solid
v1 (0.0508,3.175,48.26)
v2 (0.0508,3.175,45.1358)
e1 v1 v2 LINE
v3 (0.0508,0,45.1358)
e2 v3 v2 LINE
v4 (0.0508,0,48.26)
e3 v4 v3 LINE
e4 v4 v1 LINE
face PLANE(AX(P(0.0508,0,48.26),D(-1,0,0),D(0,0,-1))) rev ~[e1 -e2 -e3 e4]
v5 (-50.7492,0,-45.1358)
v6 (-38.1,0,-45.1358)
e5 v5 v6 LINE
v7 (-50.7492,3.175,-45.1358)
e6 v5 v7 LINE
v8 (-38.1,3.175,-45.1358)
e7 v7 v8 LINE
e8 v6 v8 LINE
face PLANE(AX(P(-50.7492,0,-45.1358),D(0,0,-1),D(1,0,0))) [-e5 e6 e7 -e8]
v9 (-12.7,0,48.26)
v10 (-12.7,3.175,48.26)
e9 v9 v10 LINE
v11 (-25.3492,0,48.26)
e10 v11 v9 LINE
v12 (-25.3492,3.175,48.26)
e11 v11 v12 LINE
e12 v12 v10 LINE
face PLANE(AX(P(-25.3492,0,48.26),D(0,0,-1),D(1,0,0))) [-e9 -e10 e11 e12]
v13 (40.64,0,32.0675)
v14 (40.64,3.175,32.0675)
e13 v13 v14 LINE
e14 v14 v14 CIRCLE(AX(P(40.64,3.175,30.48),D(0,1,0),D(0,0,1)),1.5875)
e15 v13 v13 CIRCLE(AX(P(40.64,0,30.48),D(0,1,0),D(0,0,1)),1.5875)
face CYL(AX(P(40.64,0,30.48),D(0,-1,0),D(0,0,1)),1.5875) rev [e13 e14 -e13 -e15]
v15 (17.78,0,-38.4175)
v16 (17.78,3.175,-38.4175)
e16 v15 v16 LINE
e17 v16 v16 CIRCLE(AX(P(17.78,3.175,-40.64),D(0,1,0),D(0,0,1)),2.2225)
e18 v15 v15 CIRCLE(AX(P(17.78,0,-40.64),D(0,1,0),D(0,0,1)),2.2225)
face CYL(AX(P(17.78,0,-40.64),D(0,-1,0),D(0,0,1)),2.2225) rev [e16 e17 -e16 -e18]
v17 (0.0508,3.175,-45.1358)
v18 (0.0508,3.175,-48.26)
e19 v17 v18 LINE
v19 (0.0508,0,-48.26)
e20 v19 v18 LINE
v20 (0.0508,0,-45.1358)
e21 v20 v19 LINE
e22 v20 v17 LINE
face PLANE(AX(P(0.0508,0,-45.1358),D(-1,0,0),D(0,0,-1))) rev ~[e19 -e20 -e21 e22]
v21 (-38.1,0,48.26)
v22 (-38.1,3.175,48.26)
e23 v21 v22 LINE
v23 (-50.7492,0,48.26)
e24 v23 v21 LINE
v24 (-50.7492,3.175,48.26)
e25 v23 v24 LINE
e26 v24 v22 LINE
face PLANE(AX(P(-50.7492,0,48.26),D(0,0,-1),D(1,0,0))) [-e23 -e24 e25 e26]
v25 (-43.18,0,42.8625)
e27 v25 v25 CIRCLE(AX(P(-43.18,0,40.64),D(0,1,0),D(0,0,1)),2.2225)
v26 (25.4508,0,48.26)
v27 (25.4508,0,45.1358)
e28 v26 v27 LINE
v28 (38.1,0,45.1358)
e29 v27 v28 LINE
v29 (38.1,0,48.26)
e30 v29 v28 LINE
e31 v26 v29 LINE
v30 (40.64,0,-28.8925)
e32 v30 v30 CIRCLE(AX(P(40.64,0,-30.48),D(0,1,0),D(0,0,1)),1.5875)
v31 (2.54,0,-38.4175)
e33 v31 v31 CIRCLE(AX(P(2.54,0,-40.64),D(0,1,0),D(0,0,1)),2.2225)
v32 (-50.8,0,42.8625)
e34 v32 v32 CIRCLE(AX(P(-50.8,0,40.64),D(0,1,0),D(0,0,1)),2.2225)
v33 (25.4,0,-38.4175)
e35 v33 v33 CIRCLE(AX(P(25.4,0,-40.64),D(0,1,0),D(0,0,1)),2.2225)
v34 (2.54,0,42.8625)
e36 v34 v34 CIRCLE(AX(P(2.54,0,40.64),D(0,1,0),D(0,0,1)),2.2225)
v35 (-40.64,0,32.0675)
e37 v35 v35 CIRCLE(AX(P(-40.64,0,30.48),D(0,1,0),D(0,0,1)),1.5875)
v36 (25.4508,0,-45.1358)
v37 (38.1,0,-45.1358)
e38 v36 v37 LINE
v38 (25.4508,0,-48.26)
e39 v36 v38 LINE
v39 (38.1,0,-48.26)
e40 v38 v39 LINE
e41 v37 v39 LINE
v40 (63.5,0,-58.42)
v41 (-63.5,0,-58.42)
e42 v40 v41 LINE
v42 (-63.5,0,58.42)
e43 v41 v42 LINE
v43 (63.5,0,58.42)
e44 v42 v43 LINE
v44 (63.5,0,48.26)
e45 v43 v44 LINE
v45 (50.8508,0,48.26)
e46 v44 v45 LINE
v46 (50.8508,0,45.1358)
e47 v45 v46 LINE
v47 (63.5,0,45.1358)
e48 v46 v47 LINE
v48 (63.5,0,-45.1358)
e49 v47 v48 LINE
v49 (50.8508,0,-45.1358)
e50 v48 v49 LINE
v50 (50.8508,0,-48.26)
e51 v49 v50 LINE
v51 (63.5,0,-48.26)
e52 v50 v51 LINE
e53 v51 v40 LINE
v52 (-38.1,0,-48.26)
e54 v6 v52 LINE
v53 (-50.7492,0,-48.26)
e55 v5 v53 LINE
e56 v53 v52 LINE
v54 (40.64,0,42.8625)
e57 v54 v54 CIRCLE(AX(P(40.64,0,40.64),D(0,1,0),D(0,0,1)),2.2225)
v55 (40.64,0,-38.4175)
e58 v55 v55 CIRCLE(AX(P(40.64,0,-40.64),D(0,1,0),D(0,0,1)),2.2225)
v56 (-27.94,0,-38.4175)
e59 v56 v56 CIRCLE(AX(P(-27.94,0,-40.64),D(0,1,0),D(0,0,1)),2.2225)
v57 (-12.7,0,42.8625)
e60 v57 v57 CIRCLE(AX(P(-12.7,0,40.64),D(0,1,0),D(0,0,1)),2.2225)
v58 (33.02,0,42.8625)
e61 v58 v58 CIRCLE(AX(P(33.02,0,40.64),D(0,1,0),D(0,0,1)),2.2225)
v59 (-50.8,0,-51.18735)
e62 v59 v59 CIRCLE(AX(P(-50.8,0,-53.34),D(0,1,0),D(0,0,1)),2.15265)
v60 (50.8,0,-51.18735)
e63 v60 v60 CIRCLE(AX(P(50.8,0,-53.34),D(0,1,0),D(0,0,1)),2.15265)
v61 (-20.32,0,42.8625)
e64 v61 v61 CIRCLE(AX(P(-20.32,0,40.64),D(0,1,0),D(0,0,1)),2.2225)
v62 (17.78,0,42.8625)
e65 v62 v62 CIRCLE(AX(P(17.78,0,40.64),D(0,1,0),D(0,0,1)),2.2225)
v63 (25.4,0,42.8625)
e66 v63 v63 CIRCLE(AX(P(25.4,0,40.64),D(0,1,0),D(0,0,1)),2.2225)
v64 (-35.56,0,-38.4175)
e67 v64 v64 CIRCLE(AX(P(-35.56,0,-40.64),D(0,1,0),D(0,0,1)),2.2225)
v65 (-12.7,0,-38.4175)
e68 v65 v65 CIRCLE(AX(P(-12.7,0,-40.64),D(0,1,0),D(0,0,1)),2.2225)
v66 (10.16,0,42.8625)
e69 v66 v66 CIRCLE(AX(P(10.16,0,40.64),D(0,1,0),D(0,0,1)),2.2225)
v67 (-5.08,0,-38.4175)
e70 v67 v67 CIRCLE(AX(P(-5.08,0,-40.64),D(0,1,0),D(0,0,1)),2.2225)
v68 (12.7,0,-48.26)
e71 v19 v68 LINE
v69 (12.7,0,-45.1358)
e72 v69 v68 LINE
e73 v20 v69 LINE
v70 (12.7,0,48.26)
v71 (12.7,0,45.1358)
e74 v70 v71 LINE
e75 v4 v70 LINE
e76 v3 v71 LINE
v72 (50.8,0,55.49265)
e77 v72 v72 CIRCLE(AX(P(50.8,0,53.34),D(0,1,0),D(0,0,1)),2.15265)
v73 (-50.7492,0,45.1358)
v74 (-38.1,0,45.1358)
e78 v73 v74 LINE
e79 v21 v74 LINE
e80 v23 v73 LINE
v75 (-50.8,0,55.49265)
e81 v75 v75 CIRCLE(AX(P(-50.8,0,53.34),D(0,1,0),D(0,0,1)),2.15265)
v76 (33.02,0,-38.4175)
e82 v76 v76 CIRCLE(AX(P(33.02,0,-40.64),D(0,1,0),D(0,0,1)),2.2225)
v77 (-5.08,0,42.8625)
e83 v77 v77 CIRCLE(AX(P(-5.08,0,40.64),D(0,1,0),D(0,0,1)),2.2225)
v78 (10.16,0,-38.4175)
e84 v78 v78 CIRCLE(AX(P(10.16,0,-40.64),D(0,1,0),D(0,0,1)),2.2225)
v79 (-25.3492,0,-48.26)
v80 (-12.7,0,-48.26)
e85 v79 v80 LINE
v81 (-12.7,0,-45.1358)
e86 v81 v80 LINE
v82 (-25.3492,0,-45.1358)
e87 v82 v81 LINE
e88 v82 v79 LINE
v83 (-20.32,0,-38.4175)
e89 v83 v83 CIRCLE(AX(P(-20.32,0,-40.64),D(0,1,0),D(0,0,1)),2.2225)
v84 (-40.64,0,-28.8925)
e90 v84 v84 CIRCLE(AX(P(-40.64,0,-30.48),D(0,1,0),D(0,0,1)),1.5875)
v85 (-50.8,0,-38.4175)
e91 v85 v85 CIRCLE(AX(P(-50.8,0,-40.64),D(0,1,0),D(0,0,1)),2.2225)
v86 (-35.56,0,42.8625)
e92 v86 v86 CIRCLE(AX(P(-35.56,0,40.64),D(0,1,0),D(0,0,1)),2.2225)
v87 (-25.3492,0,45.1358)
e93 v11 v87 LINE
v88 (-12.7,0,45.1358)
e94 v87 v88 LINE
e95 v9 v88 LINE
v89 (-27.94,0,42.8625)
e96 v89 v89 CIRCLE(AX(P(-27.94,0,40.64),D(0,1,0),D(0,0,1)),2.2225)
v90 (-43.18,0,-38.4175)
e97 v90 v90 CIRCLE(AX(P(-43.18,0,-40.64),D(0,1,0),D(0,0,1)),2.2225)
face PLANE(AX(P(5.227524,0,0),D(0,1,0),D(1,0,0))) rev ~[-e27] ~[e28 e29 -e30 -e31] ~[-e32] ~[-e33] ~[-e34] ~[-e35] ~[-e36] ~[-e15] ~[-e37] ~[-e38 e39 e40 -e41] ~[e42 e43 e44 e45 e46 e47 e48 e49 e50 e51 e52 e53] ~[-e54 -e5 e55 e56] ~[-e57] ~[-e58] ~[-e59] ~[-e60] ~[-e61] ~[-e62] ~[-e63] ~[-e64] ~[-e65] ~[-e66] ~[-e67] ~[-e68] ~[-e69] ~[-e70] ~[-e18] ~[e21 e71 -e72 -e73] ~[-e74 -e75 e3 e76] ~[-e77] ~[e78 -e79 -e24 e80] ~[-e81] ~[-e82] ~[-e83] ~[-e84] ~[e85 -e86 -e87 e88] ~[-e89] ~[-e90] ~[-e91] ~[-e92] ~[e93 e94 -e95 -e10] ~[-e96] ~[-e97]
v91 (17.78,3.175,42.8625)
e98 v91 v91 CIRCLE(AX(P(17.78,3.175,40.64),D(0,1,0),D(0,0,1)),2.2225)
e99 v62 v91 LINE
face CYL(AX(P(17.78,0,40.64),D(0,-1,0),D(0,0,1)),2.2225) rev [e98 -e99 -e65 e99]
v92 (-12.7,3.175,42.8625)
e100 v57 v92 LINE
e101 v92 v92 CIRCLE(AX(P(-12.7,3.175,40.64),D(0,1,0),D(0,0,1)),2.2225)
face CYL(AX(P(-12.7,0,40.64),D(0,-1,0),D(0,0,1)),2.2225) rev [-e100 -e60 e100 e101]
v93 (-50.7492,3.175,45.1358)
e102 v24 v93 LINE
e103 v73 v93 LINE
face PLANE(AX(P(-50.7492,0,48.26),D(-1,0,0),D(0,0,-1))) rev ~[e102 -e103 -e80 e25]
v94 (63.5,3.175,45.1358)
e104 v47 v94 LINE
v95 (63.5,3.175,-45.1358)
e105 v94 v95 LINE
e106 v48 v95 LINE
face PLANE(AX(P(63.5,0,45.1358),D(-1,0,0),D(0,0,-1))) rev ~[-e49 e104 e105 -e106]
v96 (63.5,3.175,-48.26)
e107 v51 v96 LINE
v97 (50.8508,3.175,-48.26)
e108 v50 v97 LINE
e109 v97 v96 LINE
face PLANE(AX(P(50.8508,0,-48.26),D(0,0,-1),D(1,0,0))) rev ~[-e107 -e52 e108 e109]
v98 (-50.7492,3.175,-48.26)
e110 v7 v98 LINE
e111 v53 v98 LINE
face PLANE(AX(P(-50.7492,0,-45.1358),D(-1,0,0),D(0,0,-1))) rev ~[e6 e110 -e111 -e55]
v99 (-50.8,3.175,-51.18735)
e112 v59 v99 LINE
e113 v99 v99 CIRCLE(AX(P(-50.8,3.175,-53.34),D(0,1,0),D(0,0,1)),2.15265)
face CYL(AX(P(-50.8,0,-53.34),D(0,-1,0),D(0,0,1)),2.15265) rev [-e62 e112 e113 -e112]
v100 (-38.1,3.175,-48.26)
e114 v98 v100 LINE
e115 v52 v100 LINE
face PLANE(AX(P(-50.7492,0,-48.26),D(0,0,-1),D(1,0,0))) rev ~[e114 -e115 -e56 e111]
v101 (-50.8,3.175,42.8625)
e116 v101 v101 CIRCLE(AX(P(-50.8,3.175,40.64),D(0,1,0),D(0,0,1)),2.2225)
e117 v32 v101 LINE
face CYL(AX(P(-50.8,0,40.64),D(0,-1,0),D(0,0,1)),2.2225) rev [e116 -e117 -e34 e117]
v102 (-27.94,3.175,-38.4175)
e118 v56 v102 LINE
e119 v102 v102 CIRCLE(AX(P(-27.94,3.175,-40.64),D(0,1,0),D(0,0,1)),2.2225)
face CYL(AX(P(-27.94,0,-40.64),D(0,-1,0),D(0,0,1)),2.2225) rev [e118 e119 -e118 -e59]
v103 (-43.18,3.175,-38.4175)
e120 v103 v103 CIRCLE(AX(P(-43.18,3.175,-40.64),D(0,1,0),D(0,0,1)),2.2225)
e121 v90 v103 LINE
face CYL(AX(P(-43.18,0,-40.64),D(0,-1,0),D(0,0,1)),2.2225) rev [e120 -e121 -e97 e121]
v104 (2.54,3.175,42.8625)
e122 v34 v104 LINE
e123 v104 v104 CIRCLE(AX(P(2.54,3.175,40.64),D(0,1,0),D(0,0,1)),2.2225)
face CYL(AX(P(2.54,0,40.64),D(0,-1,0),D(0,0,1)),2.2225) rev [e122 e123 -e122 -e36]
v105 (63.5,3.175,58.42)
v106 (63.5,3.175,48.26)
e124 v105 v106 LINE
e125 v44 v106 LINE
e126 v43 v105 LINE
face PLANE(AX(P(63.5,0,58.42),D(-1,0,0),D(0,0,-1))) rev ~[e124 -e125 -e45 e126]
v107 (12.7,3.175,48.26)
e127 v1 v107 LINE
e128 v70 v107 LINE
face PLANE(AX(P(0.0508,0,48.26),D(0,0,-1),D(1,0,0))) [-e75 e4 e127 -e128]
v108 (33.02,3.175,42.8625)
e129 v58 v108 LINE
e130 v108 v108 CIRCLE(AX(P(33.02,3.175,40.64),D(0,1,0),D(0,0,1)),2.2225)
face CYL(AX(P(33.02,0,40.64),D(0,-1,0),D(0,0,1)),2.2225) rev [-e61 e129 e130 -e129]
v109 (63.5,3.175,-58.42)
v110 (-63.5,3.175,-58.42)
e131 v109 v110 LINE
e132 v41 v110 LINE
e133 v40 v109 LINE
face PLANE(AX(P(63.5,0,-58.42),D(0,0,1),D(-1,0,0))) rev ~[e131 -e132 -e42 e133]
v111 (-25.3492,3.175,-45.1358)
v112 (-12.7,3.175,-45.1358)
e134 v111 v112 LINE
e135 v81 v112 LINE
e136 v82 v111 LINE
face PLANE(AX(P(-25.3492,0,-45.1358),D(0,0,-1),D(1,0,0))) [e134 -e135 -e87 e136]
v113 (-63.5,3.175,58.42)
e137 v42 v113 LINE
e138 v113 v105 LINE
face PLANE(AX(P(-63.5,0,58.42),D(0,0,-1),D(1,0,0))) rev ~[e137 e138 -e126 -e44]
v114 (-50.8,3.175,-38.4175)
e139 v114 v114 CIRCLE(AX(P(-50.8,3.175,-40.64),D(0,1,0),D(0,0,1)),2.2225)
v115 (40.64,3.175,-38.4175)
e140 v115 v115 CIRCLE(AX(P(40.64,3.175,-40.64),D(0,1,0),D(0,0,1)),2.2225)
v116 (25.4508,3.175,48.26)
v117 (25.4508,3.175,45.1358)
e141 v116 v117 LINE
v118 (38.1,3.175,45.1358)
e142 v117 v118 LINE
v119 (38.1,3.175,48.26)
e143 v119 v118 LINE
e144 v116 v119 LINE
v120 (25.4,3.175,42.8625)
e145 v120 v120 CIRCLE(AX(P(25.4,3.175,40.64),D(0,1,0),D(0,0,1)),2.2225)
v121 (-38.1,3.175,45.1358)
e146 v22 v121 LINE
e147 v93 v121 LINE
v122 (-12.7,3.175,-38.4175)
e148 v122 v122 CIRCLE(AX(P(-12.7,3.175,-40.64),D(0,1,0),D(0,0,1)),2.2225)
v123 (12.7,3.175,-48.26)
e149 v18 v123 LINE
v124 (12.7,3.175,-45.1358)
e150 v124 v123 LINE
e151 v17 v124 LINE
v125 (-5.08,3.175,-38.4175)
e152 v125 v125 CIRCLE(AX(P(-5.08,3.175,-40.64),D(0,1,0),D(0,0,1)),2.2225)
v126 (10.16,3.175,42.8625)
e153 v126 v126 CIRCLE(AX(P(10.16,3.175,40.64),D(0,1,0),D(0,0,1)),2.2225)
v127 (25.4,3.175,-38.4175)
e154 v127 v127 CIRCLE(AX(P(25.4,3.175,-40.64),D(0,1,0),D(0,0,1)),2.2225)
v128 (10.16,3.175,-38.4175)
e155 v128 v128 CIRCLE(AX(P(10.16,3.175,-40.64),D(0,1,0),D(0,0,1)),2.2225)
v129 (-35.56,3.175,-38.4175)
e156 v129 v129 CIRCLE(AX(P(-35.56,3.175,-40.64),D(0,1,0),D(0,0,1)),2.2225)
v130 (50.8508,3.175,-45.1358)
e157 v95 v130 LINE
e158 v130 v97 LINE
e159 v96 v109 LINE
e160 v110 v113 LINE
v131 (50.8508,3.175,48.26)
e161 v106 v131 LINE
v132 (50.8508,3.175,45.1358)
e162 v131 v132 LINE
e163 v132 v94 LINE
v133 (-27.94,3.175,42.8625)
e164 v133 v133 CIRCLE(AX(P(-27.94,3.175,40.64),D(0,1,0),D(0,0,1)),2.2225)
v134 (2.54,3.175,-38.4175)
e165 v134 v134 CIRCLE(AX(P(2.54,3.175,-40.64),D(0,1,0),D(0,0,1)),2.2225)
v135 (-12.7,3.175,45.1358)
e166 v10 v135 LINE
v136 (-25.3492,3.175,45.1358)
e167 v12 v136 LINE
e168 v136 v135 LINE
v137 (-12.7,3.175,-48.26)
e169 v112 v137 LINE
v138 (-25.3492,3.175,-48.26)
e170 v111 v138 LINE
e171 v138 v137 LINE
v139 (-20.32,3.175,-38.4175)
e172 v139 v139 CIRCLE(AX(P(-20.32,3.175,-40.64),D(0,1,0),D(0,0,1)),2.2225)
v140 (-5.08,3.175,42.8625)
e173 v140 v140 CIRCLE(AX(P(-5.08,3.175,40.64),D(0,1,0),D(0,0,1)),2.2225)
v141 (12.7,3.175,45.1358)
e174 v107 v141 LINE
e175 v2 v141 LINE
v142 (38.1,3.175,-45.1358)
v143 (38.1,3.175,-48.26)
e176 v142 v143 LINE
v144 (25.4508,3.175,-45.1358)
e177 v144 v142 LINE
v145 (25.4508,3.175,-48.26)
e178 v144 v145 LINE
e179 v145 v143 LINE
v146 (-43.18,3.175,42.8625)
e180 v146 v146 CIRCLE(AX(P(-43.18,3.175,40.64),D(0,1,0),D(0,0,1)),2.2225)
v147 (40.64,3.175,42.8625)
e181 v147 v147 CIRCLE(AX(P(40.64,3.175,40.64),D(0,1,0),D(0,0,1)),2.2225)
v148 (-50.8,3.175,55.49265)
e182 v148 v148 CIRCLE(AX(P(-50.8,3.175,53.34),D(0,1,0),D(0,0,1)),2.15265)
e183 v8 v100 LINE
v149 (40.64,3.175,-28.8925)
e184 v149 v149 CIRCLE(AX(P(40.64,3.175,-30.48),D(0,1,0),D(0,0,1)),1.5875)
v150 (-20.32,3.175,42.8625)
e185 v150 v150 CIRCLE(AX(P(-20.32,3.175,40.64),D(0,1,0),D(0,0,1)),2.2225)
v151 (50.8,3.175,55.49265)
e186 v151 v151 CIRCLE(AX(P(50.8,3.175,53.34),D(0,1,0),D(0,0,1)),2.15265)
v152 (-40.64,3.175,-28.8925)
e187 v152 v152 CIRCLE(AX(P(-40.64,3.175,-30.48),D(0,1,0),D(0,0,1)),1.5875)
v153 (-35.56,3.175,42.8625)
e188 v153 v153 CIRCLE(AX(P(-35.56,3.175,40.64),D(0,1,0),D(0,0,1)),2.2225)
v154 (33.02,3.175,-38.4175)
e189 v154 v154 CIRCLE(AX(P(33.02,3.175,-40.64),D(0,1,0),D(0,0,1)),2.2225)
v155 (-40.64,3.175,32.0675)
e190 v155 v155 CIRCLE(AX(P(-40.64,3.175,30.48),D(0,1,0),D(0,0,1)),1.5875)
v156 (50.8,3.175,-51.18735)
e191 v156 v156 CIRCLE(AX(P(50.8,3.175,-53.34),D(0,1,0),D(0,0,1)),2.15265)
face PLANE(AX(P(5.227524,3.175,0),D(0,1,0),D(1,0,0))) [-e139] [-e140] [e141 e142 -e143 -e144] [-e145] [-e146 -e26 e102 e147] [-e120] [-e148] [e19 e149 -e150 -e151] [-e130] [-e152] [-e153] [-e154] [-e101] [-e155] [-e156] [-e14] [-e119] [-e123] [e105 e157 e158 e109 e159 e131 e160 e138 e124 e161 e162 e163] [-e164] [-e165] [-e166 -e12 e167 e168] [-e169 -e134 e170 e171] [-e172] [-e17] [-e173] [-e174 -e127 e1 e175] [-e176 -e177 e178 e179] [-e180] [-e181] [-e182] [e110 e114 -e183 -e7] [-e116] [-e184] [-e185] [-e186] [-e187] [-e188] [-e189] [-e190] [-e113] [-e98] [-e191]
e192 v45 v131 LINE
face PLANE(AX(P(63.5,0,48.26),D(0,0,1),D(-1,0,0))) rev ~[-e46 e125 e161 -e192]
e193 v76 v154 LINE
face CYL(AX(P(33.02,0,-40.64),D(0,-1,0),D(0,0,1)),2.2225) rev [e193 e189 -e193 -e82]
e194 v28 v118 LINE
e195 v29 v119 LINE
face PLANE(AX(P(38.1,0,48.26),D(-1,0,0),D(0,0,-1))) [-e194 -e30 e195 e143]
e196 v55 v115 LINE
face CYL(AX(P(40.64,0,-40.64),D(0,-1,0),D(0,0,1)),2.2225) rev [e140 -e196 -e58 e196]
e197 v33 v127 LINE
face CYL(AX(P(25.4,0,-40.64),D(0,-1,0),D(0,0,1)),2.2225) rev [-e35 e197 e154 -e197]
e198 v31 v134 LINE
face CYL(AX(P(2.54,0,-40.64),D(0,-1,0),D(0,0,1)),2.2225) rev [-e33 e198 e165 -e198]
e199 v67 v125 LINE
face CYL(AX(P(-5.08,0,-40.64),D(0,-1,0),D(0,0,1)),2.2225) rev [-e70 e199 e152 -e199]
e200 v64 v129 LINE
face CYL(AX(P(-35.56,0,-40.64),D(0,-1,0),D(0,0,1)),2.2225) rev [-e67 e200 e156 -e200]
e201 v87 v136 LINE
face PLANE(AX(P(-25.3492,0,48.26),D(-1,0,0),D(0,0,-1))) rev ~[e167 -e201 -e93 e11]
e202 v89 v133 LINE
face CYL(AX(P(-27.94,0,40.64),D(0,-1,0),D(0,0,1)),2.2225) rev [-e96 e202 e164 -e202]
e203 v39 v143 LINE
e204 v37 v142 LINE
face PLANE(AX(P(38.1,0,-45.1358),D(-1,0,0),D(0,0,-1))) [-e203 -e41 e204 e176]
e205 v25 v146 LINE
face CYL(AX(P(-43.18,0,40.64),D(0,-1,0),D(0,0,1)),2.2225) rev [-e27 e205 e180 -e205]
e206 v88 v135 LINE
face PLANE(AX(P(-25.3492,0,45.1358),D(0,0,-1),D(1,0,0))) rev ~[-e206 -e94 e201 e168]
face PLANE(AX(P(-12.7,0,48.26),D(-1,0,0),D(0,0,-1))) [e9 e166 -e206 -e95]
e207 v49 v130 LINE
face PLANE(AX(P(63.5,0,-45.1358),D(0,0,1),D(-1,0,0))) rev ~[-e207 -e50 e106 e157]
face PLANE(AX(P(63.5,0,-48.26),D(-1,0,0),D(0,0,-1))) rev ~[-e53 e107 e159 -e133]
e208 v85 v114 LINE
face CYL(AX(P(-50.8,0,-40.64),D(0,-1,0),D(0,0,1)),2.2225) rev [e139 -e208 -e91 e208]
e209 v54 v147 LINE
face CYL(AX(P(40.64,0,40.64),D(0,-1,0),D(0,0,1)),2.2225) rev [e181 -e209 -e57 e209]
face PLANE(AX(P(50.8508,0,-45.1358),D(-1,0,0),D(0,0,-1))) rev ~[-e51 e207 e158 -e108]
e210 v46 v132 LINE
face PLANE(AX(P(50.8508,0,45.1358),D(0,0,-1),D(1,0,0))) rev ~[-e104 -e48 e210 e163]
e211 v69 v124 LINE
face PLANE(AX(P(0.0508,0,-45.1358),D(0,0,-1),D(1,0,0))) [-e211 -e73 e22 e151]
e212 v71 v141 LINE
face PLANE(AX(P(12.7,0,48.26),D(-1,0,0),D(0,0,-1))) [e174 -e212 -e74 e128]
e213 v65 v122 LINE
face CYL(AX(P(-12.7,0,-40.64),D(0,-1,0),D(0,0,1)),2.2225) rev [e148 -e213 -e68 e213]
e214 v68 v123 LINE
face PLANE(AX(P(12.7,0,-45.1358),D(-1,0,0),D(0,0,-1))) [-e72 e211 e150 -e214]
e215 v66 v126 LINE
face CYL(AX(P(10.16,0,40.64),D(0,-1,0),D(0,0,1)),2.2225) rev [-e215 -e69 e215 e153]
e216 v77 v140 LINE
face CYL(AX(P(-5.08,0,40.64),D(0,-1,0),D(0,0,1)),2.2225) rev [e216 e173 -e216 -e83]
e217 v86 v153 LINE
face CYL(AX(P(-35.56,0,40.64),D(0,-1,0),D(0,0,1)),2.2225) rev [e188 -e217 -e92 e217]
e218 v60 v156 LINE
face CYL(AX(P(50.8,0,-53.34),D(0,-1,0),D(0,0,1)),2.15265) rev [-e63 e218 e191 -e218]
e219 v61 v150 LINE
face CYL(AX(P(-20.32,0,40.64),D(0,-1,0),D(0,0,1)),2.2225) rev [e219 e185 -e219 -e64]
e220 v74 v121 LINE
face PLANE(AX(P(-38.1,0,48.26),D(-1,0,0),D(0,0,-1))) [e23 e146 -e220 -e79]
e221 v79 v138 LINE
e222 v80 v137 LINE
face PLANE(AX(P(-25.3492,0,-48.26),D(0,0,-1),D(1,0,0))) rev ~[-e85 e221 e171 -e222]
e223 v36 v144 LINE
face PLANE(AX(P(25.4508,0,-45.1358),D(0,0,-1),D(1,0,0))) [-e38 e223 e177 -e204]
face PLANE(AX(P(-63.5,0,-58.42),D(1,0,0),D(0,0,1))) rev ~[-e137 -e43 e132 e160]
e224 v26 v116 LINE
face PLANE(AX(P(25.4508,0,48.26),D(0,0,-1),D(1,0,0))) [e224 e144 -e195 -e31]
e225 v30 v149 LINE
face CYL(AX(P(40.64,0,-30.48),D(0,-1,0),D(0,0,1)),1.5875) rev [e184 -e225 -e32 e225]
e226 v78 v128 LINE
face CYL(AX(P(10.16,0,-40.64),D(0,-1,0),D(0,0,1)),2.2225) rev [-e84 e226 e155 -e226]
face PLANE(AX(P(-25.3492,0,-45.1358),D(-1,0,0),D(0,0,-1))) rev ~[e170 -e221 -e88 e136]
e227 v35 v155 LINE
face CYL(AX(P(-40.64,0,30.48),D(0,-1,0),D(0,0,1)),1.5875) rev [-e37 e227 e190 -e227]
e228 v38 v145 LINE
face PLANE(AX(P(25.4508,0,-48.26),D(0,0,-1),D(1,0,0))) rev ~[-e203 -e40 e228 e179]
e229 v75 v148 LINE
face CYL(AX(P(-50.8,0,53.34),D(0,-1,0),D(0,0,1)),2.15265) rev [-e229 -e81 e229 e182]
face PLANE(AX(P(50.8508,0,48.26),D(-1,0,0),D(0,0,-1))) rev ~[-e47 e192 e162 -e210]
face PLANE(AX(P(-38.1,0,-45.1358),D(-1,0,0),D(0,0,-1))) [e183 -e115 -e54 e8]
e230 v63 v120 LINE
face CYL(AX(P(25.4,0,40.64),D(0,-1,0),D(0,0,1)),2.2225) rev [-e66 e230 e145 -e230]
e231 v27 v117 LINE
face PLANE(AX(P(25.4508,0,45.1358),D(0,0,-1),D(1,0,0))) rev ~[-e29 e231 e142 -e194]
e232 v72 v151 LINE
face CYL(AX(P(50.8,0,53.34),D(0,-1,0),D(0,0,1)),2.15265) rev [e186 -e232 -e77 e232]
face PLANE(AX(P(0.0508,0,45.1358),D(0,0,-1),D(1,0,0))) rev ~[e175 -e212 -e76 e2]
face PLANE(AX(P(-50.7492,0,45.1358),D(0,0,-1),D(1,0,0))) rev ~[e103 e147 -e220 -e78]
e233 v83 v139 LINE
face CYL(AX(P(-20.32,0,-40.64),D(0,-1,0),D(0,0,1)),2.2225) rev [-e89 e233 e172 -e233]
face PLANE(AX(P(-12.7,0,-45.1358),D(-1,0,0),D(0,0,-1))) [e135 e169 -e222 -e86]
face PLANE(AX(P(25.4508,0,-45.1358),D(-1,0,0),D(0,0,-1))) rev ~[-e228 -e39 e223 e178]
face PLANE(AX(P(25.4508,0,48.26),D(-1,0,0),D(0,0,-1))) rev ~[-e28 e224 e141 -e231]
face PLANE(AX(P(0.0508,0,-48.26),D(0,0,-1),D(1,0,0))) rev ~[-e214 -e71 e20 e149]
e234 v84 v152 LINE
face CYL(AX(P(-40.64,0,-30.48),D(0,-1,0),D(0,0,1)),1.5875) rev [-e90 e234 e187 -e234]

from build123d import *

# Parameters (mm, degrees)
SKETCH1_R           = 2.15265
SKETCH1_W           = 12.6492
SKETCH1_H           = 3.1242
SKETCH1_R_2         = 2.2225
SKETCH1_R_3         = 1.5875
BOSS_EXTRUDE1_DEPTH = 3.175


with BuildPart() as part:
    # Sketch1 → Boss-Extrude1 (new body)
    with BuildSketch(Plane(origin=(0, 0, 0), x_dir=(1, 0, 0), z_dir=(0, 1, 0))):
        Polygon((63.5, 45.1358), (50.8508, 45.1358), (50.8508, 48.26), (63.5, 48.26), (63.5, 58.42), (-63.5, 58.42), (-63.5, -58.42), (63.5, -58.42), (63.5, -48.26), (50.8508, -48.26), (50.8508, -45.1358), (63.5, -45.1358), align=None)
        with Locations(Location((-50.8, -53.34, 0), (0, 0, 270))):
            Circle(SKETCH1_R, mode=Mode.SUBTRACT)
        with Locations((-44.4246, -46.6979)):
            Rectangle(SKETCH1_W, SKETCH1_H, mode=Mode.SUBTRACT)
        with Locations(Location((-50.8, -40.64, 0), (0, 0, 270))):
            Circle(SKETCH1_R_2, mode=Mode.SUBTRACT)
        with Locations(Location((-43.18, -40.64, 0), (0, 0, 270))):
            Circle(SKETCH1_R_2, mode=Mode.SUBTRACT)
        with Locations(Location((-40.64, -30.48, 0), (0, 0, 270))):
            Circle(SKETCH1_R_3, mode=Mode.SUBTRACT)
        with Locations(Location((-35.56, -40.64, 0), (0, 0, 270))):
            Circle(SKETCH1_R_2, mode=Mode.SUBTRACT)
        with Locations(Location((-27.94, -40.64, 0), (0, 0, 270))):
            Circle(SKETCH1_R_2, mode=Mode.SUBTRACT)
        with Locations((-19.0246, -46.6979)):
            Rectangle(SKETCH1_W, SKETCH1_H, mode=Mode.SUBTRACT)
        with Locations(Location((-20.32, -40.64, 0), (0, 0, 270))):
            Circle(SKETCH1_R_2, mode=Mode.SUBTRACT)
        with Locations(Location((-12.7, -40.64, 0), (0, 0, 270))):
            Circle(SKETCH1_R_2, mode=Mode.SUBTRACT)
        with Locations(Location((-5.08, -40.64, 0), (0, 0, 270))):
            Circle(SKETCH1_R_2, mode=Mode.SUBTRACT)
        with Locations((6.3754, -46.6979)):
            Rectangle(SKETCH1_W, SKETCH1_H, mode=Mode.SUBTRACT)
        with Locations(Location((2.54, -40.64, 0), (0, 0, 270))):
            Circle(SKETCH1_R_2, mode=Mode.SUBTRACT)
        with Locations(Location((10.16, -40.64, 0), (0, 0, 270))):
            Circle(SKETCH1_R_2, mode=Mode.SUBTRACT)
        with Locations(Location((17.78, -40.64, 0), (0, 0, 270))):
            Circle(SKETCH1_R_2, mode=Mode.SUBTRACT)
        with Locations(Location((25.4, -40.64, 0), (0, 0, 270))):
            Circle(SKETCH1_R_2, mode=Mode.SUBTRACT)
        with Locations((31.7754, -46.6979)):
            Rectangle(SKETCH1_W, SKETCH1_H, mode=Mode.SUBTRACT)
        with Locations(Location((50.8, -53.34, 0), (0, 0, 270))):
            Circle(SKETCH1_R, mode=Mode.SUBTRACT)
        with Locations(Location((33.02, -40.64, 0), (0, 0, 270))):
            Circle(SKETCH1_R_2, mode=Mode.SUBTRACT)
        with Locations(Location((40.64, -40.64, 0), (0, 0, 270))):
            Circle(SKETCH1_R_2, mode=Mode.SUBTRACT)
        with Locations(Location((40.64, -30.48, 0), (0, 0, 270))):
            Circle(SKETCH1_R_3, mode=Mode.SUBTRACT)
        with Locations(Location((-40.64, 30.48, 0), (0, 0, 270))):
            Circle(SKETCH1_R_3, mode=Mode.SUBTRACT)
        with Locations(Location((-50.8, 40.64, 0), (0, 0, 270))):
            Circle(SKETCH1_R_2, mode=Mode.SUBTRACT)
        with Locations(Location((-43.18, 40.64, 0), (0, 0, 270))):
            Circle(SKETCH1_R_2, mode=Mode.SUBTRACT)
        with Locations(Location((-35.56, 40.64, 0), (0, 0, 270))):
            Circle(SKETCH1_R_2, mode=Mode.SUBTRACT)
        with Locations(Location((-27.94, 40.64, 0), (0, 0, 270))):
            Circle(SKETCH1_R_2, mode=Mode.SUBTRACT)
        with Locations((-44.4246, 46.6979)):
            Rectangle(SKETCH1_W, SKETCH1_H, mode=Mode.SUBTRACT)
        with Locations(Location((-50.8, 53.34, 0), (0, 0, 270))):
            Circle(SKETCH1_R, mode=Mode.SUBTRACT)
        with Locations(Location((-20.32, 40.64, 0), (0, 0, 270))):
            Circle(SKETCH1_R_2, mode=Mode.SUBTRACT)
        with Locations(Location((-12.7, 40.64, 0), (0, 0, 270))):
            Circle(SKETCH1_R_2, mode=Mode.SUBTRACT)
        with Locations(Location((-5.08, 40.64, 0), (0, 0, 270))):
            Circle(SKETCH1_R_2, mode=Mode.SUBTRACT)
        with Locations((-19.0246, 46.6979)):
            Rectangle(SKETCH1_W, SKETCH1_H, mode=Mode.SUBTRACT)
        with Locations(Location((2.54, 40.64, 0), (0, 0, 270))):
            Circle(SKETCH1_R_2, mode=Mode.SUBTRACT)
        with Locations(Location((10.16, 40.64, 0), (0, 0, 270))):
            Circle(SKETCH1_R_2, mode=Mode.SUBTRACT)
        with Locations(Location((17.78, 40.64, 0), (0, 0, 270))):
            Circle(SKETCH1_R_2, mode=Mode.SUBTRACT)
        with Locations(Location((25.4, 40.64, 0), (0, 0, 270))):
            Circle(SKETCH1_R_2, mode=Mode.SUBTRACT)
        with Locations((6.3754, 46.6979)):
            Rectangle(SKETCH1_W, SKETCH1_H, mode=Mode.SUBTRACT)
        with Locations(Location((33.02, 40.64, 0), (0, 0, 270))):
            Circle(SKETCH1_R_2, mode=Mode.SUBTRACT)
        with Locations(Location((40.64, 30.48, 0), (0, 0, 270))):
            Circle(SKETCH1_R_3, mode=Mode.SUBTRACT)
        with Locations(Location((40.64, 40.64, 0), (0, 0, 270))):
            Circle(SKETCH1_R_2, mode=Mode.SUBTRACT)
        with Locations((31.7754, 46.6979)):
            Rectangle(SKETCH1_W, SKETCH1_H, mode=Mode.SUBTRACT)
        with Locations(Location((50.8, 53.34, 0), (0, 0, 270))):
            Circle(SKETCH1_R, mode=Mode.SUBTRACT)
    extrude(amount=BOSS_EXTRUDE1_DEPTH)


solid = part.part
